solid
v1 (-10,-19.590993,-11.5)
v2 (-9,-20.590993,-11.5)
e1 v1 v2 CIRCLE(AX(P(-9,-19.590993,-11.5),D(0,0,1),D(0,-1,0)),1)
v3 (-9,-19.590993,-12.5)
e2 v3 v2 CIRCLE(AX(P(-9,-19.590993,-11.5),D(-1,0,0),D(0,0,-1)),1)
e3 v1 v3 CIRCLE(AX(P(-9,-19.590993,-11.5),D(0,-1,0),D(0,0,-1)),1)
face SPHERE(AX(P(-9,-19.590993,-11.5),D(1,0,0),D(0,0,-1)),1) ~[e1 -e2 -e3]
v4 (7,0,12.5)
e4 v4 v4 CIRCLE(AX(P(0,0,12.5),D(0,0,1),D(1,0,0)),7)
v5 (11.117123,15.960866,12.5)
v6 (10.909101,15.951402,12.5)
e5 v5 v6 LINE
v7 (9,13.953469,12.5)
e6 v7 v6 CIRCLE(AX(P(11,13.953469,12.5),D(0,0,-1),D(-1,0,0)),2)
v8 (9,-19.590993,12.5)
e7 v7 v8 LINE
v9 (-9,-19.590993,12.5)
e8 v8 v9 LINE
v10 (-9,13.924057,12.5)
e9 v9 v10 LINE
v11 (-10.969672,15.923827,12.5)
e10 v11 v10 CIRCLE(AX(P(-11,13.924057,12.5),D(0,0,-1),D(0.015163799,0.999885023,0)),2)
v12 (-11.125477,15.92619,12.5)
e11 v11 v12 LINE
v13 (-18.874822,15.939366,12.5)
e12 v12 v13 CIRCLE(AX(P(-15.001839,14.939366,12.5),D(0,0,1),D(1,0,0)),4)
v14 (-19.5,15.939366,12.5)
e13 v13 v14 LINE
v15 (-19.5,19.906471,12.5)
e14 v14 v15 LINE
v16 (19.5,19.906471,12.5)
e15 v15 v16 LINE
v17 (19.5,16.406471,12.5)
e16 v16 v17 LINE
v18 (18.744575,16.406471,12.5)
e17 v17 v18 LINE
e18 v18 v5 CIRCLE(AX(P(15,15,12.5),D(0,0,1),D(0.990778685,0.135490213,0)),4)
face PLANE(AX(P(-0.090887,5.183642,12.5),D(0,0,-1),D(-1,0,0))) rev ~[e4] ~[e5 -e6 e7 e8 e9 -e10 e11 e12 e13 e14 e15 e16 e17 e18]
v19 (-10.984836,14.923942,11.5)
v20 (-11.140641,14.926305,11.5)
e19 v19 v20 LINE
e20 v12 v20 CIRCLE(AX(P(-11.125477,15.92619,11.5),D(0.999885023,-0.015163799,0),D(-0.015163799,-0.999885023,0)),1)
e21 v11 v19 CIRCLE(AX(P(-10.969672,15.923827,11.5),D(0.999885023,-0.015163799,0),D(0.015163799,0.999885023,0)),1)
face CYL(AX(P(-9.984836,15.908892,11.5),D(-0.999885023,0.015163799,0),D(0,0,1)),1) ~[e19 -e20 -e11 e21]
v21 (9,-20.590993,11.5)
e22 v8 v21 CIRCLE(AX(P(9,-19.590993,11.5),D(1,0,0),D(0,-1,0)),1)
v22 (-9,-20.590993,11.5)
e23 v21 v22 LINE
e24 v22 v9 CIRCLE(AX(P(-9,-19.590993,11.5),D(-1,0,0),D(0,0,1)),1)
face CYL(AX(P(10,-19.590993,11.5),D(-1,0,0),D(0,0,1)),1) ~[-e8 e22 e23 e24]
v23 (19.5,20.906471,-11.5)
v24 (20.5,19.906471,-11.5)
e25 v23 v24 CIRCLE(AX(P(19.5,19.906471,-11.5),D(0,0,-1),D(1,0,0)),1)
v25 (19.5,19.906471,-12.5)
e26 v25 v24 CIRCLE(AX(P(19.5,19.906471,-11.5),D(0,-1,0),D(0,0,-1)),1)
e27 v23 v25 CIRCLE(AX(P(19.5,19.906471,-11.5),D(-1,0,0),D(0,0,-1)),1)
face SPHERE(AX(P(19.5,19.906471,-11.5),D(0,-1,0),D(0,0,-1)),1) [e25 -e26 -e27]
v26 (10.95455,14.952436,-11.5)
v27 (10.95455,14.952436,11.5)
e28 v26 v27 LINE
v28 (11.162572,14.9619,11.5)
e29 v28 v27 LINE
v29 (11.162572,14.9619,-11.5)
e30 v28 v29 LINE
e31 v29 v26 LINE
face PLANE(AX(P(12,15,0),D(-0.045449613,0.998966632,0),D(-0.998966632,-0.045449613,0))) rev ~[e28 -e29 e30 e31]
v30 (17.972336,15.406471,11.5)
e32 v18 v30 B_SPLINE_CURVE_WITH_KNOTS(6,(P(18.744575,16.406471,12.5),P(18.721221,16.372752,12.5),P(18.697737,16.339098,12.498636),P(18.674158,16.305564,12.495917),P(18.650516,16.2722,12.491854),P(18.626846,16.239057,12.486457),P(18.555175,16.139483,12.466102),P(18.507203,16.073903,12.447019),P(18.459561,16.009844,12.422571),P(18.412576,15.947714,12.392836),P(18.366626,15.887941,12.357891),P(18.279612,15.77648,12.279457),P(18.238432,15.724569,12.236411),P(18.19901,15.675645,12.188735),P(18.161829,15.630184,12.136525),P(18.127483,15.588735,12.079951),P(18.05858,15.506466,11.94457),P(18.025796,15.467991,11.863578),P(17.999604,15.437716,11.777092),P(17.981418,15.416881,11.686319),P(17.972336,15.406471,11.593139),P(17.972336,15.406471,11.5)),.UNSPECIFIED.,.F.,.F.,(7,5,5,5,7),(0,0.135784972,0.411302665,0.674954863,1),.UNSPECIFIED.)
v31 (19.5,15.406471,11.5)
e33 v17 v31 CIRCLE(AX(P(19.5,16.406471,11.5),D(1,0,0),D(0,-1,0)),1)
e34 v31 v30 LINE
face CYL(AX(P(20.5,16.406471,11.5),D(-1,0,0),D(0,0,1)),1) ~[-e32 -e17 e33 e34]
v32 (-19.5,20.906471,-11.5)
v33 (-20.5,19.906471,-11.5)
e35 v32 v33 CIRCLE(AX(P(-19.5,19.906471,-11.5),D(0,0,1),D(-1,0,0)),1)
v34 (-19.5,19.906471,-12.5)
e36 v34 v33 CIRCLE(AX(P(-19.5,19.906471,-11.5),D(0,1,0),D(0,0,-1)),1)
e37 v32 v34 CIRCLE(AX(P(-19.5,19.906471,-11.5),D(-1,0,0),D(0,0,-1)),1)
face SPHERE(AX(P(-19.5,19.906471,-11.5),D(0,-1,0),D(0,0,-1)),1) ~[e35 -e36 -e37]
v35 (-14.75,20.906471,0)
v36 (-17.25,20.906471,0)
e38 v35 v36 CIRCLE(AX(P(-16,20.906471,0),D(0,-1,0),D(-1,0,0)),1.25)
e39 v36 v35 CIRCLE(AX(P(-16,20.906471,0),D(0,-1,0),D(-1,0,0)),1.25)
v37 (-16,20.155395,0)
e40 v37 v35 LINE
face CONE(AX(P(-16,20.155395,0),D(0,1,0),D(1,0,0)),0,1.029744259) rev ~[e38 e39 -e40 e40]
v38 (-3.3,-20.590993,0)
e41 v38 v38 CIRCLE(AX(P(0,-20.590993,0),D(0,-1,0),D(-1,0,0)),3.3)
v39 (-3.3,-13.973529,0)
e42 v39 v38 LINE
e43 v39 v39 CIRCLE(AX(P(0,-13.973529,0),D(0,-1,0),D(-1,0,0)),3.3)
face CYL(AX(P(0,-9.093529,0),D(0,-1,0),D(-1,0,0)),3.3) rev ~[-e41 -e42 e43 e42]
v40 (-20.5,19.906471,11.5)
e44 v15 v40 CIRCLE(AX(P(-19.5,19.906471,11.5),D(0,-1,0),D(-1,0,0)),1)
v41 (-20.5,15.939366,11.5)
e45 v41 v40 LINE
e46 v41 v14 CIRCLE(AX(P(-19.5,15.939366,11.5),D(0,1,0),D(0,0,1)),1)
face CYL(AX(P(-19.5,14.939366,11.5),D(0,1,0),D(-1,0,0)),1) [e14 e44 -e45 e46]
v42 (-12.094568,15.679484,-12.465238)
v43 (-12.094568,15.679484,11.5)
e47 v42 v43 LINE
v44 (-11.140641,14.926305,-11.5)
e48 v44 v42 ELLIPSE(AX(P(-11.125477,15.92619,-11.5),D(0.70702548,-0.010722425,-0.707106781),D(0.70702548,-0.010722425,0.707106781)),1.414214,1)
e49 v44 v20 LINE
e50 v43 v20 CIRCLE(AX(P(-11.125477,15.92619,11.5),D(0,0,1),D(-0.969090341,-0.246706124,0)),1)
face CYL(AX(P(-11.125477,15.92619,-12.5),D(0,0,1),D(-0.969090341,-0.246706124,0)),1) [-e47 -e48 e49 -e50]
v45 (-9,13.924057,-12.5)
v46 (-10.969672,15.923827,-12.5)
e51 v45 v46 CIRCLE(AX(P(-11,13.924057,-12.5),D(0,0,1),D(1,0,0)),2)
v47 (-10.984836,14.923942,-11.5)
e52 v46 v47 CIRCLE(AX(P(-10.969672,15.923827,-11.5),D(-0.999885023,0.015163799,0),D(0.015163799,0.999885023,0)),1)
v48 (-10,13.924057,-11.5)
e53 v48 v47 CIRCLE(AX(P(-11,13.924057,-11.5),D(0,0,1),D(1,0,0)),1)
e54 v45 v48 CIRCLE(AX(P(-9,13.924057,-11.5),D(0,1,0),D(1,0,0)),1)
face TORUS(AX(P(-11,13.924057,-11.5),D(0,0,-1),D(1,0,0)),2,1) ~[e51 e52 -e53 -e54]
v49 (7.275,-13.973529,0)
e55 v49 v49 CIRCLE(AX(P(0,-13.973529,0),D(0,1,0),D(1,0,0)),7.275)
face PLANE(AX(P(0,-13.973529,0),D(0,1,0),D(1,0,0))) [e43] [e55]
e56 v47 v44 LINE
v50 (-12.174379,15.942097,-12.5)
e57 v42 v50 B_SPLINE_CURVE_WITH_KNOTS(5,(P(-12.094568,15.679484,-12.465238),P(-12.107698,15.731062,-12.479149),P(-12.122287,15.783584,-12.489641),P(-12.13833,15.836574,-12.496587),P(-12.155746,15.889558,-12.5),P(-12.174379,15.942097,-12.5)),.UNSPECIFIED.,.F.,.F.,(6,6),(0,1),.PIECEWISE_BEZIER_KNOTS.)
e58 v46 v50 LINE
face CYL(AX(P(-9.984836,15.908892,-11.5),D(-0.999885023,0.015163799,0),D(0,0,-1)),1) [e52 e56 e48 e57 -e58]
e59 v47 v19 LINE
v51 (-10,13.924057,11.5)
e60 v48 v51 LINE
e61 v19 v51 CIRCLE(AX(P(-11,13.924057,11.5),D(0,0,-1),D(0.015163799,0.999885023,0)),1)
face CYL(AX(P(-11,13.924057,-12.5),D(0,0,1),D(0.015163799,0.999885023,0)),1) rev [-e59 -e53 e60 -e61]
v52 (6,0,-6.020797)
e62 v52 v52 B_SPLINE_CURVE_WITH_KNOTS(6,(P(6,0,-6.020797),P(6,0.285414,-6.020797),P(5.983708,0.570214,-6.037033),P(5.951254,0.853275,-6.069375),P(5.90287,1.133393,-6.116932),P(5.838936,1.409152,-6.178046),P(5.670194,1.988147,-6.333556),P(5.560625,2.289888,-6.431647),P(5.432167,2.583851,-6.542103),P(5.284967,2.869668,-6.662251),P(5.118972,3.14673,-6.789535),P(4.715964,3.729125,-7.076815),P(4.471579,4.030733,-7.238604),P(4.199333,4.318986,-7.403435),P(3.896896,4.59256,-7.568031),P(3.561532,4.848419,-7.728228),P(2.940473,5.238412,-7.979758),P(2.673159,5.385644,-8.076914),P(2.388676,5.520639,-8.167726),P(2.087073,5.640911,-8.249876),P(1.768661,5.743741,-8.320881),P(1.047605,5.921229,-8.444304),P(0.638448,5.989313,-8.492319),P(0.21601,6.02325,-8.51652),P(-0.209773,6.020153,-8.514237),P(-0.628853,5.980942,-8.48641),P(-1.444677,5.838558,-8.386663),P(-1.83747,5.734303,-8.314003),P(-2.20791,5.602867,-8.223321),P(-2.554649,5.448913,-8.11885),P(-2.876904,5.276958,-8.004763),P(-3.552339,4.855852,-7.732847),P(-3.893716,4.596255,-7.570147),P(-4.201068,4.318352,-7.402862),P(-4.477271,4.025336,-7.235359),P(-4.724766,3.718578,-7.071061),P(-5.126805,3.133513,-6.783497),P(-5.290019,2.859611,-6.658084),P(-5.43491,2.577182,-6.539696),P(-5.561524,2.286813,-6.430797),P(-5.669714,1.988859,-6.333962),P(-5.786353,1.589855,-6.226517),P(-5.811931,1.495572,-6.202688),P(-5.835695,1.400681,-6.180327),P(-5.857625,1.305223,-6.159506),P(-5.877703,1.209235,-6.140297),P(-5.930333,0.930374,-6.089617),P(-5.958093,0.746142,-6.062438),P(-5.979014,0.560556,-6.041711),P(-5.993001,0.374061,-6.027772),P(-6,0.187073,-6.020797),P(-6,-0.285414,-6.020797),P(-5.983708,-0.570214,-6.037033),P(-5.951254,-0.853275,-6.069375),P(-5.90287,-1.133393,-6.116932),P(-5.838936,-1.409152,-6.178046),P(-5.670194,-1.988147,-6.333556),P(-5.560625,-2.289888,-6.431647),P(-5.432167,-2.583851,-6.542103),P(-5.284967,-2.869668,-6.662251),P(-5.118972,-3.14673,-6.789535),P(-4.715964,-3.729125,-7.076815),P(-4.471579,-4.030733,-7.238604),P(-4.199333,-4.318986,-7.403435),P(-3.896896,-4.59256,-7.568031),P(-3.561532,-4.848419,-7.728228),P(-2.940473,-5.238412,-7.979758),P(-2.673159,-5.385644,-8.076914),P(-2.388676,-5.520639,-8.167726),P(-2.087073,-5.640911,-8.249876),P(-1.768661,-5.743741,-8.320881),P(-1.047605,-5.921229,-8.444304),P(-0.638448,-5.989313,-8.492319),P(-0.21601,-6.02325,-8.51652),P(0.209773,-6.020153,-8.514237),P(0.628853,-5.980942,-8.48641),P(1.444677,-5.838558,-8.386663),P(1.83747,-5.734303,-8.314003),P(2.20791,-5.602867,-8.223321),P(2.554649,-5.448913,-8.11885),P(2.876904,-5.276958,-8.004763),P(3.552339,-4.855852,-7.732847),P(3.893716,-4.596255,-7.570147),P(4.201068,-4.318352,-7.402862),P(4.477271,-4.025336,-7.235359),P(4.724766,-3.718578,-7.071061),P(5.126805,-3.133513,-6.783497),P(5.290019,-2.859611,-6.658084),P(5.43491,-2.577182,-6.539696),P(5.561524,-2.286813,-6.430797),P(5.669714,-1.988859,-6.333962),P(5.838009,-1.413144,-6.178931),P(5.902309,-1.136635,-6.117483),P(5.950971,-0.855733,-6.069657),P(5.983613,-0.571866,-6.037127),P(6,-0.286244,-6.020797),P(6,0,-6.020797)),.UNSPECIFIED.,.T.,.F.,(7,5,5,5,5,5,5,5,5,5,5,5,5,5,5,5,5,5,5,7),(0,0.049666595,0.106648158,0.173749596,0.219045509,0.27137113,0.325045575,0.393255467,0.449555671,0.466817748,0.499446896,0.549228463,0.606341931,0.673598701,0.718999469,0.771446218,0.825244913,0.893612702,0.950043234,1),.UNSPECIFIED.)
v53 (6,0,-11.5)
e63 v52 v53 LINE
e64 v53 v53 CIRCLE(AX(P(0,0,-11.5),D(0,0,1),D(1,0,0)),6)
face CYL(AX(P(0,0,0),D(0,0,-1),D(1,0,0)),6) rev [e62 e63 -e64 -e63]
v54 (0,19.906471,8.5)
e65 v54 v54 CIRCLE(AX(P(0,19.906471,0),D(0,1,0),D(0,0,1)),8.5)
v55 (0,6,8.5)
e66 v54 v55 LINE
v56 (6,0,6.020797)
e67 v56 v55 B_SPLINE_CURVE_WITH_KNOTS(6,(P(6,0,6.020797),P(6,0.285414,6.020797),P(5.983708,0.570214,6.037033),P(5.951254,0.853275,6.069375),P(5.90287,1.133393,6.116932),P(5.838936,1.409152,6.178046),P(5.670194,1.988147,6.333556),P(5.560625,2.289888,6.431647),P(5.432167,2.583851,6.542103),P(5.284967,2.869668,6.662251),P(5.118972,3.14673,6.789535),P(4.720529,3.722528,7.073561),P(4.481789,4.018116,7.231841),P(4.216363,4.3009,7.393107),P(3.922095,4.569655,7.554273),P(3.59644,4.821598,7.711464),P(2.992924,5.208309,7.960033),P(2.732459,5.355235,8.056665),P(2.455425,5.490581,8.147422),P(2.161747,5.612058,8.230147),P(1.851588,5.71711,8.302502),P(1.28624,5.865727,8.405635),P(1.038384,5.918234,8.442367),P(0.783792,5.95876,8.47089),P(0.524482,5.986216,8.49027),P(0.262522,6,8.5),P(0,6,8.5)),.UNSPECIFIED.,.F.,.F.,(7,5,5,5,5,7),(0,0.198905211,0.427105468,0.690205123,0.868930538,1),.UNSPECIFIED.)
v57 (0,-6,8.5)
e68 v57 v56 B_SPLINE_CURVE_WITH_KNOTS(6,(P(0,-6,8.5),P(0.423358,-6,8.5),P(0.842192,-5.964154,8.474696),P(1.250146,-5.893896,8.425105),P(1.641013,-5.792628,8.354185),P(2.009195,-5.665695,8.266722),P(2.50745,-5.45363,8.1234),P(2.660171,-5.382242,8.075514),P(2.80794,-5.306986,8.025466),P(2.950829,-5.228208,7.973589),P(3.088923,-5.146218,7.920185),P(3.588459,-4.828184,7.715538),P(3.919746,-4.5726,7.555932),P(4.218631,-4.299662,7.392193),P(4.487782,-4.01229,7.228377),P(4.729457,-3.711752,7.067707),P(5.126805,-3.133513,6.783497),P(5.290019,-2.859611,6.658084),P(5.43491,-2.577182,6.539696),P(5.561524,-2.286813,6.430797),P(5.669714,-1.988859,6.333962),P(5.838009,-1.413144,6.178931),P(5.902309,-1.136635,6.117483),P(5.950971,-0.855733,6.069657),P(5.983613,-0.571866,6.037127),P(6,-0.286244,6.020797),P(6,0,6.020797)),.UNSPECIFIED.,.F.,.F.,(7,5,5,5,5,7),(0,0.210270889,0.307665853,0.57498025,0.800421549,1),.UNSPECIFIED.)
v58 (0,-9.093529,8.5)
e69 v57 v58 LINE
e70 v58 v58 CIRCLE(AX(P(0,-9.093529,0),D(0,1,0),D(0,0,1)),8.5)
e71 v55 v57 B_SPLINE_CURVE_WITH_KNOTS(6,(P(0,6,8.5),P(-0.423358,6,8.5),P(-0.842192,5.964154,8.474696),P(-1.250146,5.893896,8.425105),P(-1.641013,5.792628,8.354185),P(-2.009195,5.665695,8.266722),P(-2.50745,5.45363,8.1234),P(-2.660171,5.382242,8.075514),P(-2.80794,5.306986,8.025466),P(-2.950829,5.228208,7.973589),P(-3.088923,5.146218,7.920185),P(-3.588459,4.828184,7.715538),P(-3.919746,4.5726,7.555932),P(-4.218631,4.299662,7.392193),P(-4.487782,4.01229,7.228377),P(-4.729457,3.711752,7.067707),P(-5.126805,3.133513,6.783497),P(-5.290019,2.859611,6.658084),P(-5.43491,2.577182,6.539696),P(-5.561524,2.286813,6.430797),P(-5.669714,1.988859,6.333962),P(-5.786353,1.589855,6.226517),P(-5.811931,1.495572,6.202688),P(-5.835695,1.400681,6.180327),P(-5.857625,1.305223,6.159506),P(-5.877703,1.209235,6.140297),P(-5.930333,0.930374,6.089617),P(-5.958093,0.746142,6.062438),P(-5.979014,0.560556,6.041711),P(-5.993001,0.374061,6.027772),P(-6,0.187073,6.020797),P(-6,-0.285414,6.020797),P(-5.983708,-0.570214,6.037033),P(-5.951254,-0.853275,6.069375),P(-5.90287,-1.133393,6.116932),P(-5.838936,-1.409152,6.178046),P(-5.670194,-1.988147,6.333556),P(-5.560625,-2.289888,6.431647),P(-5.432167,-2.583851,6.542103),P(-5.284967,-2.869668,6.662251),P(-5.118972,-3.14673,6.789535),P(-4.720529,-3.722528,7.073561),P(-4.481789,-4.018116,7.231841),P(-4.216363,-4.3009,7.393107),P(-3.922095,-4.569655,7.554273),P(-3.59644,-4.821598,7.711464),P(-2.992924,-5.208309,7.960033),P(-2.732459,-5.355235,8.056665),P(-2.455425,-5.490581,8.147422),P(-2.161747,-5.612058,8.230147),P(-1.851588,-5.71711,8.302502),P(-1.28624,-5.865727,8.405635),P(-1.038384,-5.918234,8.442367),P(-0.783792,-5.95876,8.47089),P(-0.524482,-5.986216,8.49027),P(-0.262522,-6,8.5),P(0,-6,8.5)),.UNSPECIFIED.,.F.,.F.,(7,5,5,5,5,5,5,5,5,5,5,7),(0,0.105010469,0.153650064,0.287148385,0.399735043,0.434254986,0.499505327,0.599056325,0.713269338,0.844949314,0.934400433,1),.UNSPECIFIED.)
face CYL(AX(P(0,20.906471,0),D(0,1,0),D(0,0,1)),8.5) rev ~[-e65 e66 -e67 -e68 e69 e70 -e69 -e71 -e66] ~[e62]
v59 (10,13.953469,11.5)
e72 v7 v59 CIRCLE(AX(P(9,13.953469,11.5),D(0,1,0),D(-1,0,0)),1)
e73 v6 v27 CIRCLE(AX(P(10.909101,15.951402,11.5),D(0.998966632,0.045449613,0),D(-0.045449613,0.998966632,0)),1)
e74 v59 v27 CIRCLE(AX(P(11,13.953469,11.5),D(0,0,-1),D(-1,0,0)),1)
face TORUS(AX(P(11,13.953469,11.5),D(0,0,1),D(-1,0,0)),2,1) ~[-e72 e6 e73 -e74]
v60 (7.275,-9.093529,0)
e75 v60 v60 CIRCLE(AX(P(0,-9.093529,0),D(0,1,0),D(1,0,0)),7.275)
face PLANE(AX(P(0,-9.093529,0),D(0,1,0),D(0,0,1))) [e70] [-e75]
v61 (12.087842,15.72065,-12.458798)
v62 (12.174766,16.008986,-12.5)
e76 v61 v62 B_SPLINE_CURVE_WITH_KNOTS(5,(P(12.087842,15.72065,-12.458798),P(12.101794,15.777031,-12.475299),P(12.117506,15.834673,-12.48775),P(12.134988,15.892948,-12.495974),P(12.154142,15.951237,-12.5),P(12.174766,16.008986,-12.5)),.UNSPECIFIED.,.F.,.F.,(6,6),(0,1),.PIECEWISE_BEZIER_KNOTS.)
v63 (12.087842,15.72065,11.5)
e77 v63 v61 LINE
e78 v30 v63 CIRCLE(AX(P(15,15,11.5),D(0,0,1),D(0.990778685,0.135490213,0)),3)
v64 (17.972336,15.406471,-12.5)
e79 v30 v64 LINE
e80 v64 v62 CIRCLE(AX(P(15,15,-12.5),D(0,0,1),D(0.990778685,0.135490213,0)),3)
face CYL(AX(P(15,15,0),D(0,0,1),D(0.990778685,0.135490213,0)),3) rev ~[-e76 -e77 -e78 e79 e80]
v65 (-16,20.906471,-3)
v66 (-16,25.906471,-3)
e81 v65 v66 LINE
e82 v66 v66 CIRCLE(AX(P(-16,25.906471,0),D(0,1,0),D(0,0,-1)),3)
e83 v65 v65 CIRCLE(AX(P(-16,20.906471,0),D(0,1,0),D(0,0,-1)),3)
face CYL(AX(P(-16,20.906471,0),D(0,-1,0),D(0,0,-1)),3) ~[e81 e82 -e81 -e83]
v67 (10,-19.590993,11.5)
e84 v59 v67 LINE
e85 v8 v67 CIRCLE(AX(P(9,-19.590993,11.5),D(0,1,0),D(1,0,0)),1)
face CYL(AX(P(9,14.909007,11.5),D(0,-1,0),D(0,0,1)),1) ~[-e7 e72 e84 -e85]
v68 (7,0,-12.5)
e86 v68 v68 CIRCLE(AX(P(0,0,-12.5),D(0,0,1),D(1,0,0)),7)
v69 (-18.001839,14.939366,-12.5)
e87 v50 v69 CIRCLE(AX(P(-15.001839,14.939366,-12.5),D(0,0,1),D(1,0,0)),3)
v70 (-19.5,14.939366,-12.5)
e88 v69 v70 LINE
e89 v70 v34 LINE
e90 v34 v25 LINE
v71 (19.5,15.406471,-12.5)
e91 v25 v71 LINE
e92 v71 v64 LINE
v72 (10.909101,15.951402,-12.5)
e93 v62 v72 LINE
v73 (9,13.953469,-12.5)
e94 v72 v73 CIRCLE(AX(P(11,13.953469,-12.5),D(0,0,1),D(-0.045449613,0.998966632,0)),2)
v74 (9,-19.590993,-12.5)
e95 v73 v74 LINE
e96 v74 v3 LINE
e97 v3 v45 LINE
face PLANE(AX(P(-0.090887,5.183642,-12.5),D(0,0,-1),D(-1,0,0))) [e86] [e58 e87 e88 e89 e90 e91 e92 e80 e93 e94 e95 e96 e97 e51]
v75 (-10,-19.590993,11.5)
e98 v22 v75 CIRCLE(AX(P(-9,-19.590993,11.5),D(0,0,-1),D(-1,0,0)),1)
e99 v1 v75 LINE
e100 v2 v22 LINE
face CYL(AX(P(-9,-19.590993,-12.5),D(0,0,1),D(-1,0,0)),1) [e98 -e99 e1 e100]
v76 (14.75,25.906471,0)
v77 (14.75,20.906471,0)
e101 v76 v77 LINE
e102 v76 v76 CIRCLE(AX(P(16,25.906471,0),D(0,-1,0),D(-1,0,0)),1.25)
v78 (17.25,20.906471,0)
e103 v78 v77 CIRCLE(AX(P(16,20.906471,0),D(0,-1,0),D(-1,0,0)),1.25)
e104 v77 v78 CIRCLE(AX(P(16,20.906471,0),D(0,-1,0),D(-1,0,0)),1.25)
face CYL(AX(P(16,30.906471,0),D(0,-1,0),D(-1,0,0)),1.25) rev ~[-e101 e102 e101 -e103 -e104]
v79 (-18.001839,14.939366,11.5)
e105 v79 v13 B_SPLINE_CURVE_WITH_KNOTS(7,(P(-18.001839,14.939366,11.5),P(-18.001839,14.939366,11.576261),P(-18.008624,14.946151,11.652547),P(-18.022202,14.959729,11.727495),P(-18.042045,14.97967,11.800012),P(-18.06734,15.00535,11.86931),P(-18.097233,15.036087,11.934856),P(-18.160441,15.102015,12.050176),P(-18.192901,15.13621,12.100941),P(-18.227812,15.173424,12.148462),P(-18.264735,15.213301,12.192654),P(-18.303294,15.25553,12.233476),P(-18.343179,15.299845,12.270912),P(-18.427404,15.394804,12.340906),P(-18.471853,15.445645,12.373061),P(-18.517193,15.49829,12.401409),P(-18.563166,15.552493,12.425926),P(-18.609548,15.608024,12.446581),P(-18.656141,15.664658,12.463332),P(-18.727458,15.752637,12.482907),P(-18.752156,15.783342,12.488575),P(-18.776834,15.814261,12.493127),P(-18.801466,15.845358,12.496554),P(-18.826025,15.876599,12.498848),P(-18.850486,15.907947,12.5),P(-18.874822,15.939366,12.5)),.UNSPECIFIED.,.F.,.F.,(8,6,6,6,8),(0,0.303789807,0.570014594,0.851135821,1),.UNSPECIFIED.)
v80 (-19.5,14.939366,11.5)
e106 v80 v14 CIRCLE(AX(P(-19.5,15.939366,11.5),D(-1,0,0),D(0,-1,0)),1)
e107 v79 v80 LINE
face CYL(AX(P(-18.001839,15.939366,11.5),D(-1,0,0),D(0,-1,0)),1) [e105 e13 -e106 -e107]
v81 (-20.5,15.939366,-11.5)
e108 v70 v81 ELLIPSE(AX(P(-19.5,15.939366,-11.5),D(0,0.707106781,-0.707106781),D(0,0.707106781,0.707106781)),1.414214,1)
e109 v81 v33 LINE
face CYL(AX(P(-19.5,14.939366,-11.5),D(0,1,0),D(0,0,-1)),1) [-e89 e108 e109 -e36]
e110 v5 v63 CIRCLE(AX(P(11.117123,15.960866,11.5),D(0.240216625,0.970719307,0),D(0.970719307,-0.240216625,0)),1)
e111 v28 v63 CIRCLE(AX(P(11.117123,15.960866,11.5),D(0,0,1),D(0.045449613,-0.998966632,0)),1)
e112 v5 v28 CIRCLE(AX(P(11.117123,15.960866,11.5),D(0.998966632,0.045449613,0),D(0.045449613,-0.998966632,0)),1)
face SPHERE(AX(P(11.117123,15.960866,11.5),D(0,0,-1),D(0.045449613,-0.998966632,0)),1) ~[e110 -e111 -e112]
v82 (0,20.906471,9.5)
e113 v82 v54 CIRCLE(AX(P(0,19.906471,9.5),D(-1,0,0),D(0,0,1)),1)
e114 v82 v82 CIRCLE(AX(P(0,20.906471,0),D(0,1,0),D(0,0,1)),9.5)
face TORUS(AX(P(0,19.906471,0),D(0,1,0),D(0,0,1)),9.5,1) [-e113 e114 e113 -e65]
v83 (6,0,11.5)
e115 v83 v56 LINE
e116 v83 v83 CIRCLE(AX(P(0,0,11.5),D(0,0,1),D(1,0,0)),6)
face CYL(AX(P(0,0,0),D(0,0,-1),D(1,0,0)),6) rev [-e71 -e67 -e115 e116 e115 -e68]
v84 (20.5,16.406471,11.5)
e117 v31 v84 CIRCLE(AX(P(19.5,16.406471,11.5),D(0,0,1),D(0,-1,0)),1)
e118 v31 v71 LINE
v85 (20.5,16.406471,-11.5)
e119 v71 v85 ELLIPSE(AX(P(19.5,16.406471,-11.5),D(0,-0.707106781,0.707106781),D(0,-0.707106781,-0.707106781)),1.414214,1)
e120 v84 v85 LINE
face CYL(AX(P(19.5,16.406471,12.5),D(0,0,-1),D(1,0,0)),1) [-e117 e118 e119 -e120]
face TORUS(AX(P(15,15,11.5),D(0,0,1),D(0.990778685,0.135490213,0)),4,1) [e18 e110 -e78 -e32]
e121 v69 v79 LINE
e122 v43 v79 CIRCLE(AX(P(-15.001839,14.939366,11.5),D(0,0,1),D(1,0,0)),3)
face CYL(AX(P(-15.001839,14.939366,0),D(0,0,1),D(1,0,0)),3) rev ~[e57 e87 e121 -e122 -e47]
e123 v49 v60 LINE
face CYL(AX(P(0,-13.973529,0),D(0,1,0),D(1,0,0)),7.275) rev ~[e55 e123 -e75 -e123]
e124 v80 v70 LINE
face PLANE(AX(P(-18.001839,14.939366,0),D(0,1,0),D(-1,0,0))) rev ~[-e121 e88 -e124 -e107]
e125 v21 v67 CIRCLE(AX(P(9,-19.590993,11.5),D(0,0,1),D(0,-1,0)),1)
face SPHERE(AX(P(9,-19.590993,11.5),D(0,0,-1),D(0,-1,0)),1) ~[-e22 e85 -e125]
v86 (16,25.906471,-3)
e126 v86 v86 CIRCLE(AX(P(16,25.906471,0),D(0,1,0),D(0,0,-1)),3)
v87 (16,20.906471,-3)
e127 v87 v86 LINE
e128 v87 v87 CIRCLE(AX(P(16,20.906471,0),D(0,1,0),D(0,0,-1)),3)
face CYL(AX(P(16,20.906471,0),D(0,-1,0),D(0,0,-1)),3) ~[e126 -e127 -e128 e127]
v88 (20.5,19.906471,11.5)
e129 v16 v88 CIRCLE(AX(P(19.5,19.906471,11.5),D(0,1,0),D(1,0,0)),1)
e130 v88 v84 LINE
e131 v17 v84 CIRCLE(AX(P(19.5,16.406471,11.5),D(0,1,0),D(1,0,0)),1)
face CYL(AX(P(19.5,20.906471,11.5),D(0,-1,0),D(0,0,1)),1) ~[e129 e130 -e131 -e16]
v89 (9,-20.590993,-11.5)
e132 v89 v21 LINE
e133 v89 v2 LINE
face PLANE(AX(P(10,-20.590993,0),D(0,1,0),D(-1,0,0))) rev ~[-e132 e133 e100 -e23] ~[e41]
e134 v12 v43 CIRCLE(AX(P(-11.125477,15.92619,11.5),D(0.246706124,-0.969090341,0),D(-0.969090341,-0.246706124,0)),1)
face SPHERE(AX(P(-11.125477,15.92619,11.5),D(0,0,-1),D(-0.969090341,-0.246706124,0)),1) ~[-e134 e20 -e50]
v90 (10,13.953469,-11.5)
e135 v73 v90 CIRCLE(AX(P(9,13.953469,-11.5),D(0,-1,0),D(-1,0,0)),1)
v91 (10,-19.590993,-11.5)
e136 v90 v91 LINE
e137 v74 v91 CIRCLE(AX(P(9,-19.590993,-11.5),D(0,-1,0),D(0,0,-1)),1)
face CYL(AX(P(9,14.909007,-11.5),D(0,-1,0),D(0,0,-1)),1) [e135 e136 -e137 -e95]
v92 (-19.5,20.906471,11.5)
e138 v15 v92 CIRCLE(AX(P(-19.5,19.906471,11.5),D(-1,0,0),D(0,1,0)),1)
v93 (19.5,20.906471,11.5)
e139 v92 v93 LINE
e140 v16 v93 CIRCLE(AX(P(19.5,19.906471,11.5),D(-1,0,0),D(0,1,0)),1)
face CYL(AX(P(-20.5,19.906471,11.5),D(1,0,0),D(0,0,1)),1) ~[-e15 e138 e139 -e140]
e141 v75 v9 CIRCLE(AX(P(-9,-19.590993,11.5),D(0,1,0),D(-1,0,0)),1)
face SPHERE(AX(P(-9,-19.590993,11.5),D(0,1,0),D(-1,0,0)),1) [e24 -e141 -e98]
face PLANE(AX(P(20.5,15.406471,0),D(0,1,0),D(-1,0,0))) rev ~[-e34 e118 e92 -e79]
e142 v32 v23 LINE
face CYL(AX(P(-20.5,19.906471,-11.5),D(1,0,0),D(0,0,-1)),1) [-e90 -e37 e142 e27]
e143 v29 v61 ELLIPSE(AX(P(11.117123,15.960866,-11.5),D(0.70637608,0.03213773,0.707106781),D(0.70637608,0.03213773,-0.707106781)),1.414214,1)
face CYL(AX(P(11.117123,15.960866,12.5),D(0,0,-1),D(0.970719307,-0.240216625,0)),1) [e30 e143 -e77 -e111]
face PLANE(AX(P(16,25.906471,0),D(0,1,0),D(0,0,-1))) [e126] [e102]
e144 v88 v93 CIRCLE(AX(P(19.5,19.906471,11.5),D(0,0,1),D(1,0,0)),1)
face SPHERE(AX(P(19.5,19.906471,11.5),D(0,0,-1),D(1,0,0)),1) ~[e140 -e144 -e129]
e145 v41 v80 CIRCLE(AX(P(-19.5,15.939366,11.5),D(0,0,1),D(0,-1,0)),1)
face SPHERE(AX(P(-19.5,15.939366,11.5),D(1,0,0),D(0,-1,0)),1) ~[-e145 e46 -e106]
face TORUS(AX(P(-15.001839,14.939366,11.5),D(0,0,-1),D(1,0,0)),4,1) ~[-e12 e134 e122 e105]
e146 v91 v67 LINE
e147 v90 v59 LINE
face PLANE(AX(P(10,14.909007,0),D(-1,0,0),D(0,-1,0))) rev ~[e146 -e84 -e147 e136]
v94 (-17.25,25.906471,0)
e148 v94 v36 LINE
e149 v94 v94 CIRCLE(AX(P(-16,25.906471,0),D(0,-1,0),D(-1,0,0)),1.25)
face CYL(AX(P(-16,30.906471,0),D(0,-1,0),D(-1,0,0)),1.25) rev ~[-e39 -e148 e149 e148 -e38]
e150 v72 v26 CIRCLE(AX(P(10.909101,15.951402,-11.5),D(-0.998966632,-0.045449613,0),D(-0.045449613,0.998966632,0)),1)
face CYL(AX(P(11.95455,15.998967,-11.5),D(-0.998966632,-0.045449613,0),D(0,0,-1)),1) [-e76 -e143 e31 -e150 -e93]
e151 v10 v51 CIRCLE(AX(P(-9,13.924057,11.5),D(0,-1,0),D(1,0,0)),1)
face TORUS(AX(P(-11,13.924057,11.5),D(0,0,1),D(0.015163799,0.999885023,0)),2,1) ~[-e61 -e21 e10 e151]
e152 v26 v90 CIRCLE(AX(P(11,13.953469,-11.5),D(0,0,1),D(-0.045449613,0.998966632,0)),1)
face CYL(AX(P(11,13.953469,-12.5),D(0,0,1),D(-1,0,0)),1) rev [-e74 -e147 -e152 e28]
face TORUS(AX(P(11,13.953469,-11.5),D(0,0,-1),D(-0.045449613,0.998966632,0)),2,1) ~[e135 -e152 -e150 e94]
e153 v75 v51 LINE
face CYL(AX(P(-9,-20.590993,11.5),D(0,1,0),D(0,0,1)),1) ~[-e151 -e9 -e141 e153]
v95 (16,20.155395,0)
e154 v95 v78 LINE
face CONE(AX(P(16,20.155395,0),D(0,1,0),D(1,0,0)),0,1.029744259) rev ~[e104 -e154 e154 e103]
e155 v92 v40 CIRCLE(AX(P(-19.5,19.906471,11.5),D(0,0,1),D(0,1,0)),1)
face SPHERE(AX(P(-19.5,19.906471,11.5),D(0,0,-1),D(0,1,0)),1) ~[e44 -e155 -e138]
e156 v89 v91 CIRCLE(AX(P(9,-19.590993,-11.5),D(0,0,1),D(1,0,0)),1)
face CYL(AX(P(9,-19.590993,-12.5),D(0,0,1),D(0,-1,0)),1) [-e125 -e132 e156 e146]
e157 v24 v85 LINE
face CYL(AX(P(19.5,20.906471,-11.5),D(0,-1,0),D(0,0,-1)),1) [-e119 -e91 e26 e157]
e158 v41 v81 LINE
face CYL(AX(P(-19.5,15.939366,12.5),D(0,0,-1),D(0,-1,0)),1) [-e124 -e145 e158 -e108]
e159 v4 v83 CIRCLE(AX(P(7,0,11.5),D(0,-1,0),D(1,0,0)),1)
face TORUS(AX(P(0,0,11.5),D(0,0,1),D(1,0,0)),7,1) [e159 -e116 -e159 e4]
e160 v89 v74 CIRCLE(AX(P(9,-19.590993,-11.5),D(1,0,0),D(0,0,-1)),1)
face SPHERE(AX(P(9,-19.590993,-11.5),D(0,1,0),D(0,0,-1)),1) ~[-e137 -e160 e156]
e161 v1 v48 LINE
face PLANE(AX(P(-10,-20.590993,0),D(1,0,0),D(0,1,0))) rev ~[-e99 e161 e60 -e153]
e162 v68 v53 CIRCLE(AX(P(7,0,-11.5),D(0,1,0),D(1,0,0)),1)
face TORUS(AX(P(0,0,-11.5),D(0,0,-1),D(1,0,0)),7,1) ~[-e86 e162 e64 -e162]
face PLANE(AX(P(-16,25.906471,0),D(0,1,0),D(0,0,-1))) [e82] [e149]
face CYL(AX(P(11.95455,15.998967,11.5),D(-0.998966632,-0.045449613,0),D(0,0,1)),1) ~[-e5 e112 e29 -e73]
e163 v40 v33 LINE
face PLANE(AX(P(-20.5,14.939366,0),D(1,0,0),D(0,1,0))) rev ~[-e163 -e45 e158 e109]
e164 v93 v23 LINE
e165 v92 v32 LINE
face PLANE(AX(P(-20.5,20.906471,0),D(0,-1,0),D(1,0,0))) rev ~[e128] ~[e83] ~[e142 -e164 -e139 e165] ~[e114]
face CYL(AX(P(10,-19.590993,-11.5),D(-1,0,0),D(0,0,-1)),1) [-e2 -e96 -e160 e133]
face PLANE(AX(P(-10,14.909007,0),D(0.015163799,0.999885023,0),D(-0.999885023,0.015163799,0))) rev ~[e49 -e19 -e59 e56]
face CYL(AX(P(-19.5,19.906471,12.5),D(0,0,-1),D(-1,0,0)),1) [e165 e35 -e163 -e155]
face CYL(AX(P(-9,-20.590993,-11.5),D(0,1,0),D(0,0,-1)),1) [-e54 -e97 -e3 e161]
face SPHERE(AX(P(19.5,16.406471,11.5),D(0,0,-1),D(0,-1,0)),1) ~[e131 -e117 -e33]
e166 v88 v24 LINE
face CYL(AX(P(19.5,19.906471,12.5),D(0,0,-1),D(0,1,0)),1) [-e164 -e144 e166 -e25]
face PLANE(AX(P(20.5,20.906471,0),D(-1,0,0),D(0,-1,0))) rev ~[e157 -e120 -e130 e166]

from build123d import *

# Parameters (mm, degrees)
CROQUIS1_R                                           = 6
SALIENTE_EXTRUIR1_DEPTH                              = 12.5
CROQUIS2_R                                           = 8.5
CORTAR_EXTRUIR1_DEPTH                                = 30
REDONDEO2_R                                          = 1
CROQUIS5_R                                           = 3
SALIENTE_EXTRUIR2_DEPTH                              = 5
PERFORADOR_PARA_ROSCAR_PARA_MACHO_DE_ROS_D           = 2.5
PERFORADOR_PARA_ROSCAR_PARA_MACHO_DE_ROS_DEPTH       = 5
PERFORADOR_PARA_ROSCAR_PARA_MACHO_DE_ROS_TIP         = 0.751075774
REFRENTADO_PARA_PERNO_CON_CABEZA_HEXAGON_D           = 6.6
REFRENTADO_PARA_PERNO_CON_CABEZA_HEXAGON_CBORE_D     = 14.55
REFRENTADO_PARA_PERNO_CON_CABEZA_HEXAGON_CBORE_DEPTH = 4.88


with BuildPart() as part:
    # Croquis1 → Saliente-Extruir1 (new, symmetric)
    with BuildSketch(Plane.XY):
        with BuildLine():
            Line((-18.001838681, 14.939365714), (-20.5, 14.939365714))
            Line((-20.5, 14.939365714), (-20.5, 20.90647064))
            Line((-20.5, 20.90647064), (20.5, 20.90647064))
            Line((20.5, 20.90647064), (20.5, 15.40647064))
            Line((20.5, 15.40647064), (17.972336054, 15.40647064))
            ThreePointArc((17.972336054, 15.40647064), (14.796294529, 17.993076023), (12, 15))
            Line((12, 15), (10, 14.909006744))
            Line((10, 14.909006744), (10, -20.590993256))
            Line((10, -20.590993256), (-10, -20.590993256))
            Line((-10, -20.590993256), (-10, 14.909006744))
            Line((-10, 14.909006744), (-12.001838681, 14.939365714))
            ThreePointArc((-12.001838681, 14.939365714), (-15.001838681, 17.939365714), (-18.001838681, 14.939365714))
        make_face()
        Circle(CROQUIS1_R, mode=Mode.SUBTRACT)
    extrude(amount=SALIENTE_EXTRUIR1_DEPTH, both=True)

    # Croquis2 → Cortar-Extruir1 (cut)
    with BuildSketch(Plane(origin=(0, 20.90647064, 0), x_dir=(1, 0, 0), z_dir=(0, 1, 0))):
        with Locations(Location((0, 0, 0), (0, 0, 270))):
            Circle(CROQUIS2_R)
    extrude(amount=-CORTAR_EXTRUIR1_DEPTH, mode=Mode.SUBTRACT)

    # Redondeo2
    redondeo2_edges = [part.edges().sort_by_distance(p)[0] for p in [
        (-19.250919341, 14.939365714, 12.5),
        (20.5, 18.15647064, -12.5),
        (11, 14.954503372, -12.5),
        (10, -2.840993256, -12.5),
        (0, -20.590993256, -12.5),
        (-15.001838681, 17.939365714, 12.5),
        (-10, -2.840993256, -12.5),
        (-11.000919341, 14.924186229, -12.5),
        (-20.5, 17.922918177, -12.5),
        (0, 20.90647064, -12.5),
        (-11.000919341, 14.924186229, 12.5),
        (-10, -2.840993256, 12.5),
        (20.5, 20.90647064, 0),
        (20.5, 15.40647064, 0),
        (12, 15, 0),
        (10, 14.909006744, 0),
        (10, -20.590993256, 0),
        (-10, -20.590993256, 0),
        (-10, 14.909006744, 0),
        (-12.001838681, 14.939365714, 0),
        (-20.5, 14.939365714, 0),
        (-20.5, 20.90647064, 0),
        (0, -20.590993256, 12.5),
        (10, -2.840993256, 12.5),
        (11, 14.954503372, 12.5),
        (-6, 0, -12.5),
        (-6, 0, 12.5),
        (14.796294529, 17.993076023, 12.5),
        (19.236168027, 15.40647064, 12.5),
        (20.5, 18.15647064, 12.5),
        (0, 20.90647064, 12.5),
        (0, 20.90647064, -8.5),
        (-20.5, 17.922918177, 12.5),
    ]]
    fillet(redondeo2_edges, radius=REDONDEO2_R)

    # Croquis5 → Saliente-Extruir2 (add)
    with BuildSketch(Plane(origin=(0, 20.90647064, 0), x_dir=(1, 0, 0), z_dir=(0, 1, 0))):
        with Locations(Location((-16, 0, 0), (0, 0, 90))):
            Circle(CROQUIS5_R)
        with Locations(Location((16, 0, 0), (0, 0, 90))):
            Circle(CROQUIS5_R)
    extrude(amount=SALIENTE_EXTRUIR2_DEPTH)

    # Perforador para roscar para macho de roscar para M3x0.51
    with Locations(Plane(origin=(0, 25.90647064, 0), x_dir=(1, 0, 0), z_dir=(0, 1, 0))):
        with Locations((-16, 0), (16, 0)):
            Hole(PERFORADOR_PARA_ROSCAR_PARA_MACHO_DE_ROS_D / 2, depth=PERFORADOR_PARA_ROSCAR_PARA_MACHO_DE_ROS_DEPTH)
            with Locations((0, 0, -(PERFORADOR_PARA_ROSCAR_PARA_MACHO_DE_ROS_DEPTH + PERFORADOR_PARA_ROSCAR_PARA_MACHO_DE_ROS_TIP / 2))):  # 118° drill point
                Cone(0, PERFORADOR_PARA_ROSCAR_PARA_MACHO_DE_ROS_D / 2, PERFORADOR_PARA_ROSCAR_PARA_MACHO_DE_ROS_TIP, mode=Mode.SUBTRACT)

    # Refrentado para perno con cabeza hexagonal de M61 (through all)
    with Locations(Plane(origin=(0, -9.09352936, 0), x_dir=(1, 0, 0), z_dir=(0, 1, 0))):
        with Locations((0, 0)):
            CounterBoreHole(REFRENTADO_PARA_PERNO_CON_CABEZA_HEXAGON_D / 2, REFRENTADO_PARA_PERNO_CON_CABEZA_HEXAGON_CBORE_D / 2, REFRENTADO_PARA_PERNO_CON_CABEZA_HEXAGON_CBORE_DEPTH)


solid = part.part
